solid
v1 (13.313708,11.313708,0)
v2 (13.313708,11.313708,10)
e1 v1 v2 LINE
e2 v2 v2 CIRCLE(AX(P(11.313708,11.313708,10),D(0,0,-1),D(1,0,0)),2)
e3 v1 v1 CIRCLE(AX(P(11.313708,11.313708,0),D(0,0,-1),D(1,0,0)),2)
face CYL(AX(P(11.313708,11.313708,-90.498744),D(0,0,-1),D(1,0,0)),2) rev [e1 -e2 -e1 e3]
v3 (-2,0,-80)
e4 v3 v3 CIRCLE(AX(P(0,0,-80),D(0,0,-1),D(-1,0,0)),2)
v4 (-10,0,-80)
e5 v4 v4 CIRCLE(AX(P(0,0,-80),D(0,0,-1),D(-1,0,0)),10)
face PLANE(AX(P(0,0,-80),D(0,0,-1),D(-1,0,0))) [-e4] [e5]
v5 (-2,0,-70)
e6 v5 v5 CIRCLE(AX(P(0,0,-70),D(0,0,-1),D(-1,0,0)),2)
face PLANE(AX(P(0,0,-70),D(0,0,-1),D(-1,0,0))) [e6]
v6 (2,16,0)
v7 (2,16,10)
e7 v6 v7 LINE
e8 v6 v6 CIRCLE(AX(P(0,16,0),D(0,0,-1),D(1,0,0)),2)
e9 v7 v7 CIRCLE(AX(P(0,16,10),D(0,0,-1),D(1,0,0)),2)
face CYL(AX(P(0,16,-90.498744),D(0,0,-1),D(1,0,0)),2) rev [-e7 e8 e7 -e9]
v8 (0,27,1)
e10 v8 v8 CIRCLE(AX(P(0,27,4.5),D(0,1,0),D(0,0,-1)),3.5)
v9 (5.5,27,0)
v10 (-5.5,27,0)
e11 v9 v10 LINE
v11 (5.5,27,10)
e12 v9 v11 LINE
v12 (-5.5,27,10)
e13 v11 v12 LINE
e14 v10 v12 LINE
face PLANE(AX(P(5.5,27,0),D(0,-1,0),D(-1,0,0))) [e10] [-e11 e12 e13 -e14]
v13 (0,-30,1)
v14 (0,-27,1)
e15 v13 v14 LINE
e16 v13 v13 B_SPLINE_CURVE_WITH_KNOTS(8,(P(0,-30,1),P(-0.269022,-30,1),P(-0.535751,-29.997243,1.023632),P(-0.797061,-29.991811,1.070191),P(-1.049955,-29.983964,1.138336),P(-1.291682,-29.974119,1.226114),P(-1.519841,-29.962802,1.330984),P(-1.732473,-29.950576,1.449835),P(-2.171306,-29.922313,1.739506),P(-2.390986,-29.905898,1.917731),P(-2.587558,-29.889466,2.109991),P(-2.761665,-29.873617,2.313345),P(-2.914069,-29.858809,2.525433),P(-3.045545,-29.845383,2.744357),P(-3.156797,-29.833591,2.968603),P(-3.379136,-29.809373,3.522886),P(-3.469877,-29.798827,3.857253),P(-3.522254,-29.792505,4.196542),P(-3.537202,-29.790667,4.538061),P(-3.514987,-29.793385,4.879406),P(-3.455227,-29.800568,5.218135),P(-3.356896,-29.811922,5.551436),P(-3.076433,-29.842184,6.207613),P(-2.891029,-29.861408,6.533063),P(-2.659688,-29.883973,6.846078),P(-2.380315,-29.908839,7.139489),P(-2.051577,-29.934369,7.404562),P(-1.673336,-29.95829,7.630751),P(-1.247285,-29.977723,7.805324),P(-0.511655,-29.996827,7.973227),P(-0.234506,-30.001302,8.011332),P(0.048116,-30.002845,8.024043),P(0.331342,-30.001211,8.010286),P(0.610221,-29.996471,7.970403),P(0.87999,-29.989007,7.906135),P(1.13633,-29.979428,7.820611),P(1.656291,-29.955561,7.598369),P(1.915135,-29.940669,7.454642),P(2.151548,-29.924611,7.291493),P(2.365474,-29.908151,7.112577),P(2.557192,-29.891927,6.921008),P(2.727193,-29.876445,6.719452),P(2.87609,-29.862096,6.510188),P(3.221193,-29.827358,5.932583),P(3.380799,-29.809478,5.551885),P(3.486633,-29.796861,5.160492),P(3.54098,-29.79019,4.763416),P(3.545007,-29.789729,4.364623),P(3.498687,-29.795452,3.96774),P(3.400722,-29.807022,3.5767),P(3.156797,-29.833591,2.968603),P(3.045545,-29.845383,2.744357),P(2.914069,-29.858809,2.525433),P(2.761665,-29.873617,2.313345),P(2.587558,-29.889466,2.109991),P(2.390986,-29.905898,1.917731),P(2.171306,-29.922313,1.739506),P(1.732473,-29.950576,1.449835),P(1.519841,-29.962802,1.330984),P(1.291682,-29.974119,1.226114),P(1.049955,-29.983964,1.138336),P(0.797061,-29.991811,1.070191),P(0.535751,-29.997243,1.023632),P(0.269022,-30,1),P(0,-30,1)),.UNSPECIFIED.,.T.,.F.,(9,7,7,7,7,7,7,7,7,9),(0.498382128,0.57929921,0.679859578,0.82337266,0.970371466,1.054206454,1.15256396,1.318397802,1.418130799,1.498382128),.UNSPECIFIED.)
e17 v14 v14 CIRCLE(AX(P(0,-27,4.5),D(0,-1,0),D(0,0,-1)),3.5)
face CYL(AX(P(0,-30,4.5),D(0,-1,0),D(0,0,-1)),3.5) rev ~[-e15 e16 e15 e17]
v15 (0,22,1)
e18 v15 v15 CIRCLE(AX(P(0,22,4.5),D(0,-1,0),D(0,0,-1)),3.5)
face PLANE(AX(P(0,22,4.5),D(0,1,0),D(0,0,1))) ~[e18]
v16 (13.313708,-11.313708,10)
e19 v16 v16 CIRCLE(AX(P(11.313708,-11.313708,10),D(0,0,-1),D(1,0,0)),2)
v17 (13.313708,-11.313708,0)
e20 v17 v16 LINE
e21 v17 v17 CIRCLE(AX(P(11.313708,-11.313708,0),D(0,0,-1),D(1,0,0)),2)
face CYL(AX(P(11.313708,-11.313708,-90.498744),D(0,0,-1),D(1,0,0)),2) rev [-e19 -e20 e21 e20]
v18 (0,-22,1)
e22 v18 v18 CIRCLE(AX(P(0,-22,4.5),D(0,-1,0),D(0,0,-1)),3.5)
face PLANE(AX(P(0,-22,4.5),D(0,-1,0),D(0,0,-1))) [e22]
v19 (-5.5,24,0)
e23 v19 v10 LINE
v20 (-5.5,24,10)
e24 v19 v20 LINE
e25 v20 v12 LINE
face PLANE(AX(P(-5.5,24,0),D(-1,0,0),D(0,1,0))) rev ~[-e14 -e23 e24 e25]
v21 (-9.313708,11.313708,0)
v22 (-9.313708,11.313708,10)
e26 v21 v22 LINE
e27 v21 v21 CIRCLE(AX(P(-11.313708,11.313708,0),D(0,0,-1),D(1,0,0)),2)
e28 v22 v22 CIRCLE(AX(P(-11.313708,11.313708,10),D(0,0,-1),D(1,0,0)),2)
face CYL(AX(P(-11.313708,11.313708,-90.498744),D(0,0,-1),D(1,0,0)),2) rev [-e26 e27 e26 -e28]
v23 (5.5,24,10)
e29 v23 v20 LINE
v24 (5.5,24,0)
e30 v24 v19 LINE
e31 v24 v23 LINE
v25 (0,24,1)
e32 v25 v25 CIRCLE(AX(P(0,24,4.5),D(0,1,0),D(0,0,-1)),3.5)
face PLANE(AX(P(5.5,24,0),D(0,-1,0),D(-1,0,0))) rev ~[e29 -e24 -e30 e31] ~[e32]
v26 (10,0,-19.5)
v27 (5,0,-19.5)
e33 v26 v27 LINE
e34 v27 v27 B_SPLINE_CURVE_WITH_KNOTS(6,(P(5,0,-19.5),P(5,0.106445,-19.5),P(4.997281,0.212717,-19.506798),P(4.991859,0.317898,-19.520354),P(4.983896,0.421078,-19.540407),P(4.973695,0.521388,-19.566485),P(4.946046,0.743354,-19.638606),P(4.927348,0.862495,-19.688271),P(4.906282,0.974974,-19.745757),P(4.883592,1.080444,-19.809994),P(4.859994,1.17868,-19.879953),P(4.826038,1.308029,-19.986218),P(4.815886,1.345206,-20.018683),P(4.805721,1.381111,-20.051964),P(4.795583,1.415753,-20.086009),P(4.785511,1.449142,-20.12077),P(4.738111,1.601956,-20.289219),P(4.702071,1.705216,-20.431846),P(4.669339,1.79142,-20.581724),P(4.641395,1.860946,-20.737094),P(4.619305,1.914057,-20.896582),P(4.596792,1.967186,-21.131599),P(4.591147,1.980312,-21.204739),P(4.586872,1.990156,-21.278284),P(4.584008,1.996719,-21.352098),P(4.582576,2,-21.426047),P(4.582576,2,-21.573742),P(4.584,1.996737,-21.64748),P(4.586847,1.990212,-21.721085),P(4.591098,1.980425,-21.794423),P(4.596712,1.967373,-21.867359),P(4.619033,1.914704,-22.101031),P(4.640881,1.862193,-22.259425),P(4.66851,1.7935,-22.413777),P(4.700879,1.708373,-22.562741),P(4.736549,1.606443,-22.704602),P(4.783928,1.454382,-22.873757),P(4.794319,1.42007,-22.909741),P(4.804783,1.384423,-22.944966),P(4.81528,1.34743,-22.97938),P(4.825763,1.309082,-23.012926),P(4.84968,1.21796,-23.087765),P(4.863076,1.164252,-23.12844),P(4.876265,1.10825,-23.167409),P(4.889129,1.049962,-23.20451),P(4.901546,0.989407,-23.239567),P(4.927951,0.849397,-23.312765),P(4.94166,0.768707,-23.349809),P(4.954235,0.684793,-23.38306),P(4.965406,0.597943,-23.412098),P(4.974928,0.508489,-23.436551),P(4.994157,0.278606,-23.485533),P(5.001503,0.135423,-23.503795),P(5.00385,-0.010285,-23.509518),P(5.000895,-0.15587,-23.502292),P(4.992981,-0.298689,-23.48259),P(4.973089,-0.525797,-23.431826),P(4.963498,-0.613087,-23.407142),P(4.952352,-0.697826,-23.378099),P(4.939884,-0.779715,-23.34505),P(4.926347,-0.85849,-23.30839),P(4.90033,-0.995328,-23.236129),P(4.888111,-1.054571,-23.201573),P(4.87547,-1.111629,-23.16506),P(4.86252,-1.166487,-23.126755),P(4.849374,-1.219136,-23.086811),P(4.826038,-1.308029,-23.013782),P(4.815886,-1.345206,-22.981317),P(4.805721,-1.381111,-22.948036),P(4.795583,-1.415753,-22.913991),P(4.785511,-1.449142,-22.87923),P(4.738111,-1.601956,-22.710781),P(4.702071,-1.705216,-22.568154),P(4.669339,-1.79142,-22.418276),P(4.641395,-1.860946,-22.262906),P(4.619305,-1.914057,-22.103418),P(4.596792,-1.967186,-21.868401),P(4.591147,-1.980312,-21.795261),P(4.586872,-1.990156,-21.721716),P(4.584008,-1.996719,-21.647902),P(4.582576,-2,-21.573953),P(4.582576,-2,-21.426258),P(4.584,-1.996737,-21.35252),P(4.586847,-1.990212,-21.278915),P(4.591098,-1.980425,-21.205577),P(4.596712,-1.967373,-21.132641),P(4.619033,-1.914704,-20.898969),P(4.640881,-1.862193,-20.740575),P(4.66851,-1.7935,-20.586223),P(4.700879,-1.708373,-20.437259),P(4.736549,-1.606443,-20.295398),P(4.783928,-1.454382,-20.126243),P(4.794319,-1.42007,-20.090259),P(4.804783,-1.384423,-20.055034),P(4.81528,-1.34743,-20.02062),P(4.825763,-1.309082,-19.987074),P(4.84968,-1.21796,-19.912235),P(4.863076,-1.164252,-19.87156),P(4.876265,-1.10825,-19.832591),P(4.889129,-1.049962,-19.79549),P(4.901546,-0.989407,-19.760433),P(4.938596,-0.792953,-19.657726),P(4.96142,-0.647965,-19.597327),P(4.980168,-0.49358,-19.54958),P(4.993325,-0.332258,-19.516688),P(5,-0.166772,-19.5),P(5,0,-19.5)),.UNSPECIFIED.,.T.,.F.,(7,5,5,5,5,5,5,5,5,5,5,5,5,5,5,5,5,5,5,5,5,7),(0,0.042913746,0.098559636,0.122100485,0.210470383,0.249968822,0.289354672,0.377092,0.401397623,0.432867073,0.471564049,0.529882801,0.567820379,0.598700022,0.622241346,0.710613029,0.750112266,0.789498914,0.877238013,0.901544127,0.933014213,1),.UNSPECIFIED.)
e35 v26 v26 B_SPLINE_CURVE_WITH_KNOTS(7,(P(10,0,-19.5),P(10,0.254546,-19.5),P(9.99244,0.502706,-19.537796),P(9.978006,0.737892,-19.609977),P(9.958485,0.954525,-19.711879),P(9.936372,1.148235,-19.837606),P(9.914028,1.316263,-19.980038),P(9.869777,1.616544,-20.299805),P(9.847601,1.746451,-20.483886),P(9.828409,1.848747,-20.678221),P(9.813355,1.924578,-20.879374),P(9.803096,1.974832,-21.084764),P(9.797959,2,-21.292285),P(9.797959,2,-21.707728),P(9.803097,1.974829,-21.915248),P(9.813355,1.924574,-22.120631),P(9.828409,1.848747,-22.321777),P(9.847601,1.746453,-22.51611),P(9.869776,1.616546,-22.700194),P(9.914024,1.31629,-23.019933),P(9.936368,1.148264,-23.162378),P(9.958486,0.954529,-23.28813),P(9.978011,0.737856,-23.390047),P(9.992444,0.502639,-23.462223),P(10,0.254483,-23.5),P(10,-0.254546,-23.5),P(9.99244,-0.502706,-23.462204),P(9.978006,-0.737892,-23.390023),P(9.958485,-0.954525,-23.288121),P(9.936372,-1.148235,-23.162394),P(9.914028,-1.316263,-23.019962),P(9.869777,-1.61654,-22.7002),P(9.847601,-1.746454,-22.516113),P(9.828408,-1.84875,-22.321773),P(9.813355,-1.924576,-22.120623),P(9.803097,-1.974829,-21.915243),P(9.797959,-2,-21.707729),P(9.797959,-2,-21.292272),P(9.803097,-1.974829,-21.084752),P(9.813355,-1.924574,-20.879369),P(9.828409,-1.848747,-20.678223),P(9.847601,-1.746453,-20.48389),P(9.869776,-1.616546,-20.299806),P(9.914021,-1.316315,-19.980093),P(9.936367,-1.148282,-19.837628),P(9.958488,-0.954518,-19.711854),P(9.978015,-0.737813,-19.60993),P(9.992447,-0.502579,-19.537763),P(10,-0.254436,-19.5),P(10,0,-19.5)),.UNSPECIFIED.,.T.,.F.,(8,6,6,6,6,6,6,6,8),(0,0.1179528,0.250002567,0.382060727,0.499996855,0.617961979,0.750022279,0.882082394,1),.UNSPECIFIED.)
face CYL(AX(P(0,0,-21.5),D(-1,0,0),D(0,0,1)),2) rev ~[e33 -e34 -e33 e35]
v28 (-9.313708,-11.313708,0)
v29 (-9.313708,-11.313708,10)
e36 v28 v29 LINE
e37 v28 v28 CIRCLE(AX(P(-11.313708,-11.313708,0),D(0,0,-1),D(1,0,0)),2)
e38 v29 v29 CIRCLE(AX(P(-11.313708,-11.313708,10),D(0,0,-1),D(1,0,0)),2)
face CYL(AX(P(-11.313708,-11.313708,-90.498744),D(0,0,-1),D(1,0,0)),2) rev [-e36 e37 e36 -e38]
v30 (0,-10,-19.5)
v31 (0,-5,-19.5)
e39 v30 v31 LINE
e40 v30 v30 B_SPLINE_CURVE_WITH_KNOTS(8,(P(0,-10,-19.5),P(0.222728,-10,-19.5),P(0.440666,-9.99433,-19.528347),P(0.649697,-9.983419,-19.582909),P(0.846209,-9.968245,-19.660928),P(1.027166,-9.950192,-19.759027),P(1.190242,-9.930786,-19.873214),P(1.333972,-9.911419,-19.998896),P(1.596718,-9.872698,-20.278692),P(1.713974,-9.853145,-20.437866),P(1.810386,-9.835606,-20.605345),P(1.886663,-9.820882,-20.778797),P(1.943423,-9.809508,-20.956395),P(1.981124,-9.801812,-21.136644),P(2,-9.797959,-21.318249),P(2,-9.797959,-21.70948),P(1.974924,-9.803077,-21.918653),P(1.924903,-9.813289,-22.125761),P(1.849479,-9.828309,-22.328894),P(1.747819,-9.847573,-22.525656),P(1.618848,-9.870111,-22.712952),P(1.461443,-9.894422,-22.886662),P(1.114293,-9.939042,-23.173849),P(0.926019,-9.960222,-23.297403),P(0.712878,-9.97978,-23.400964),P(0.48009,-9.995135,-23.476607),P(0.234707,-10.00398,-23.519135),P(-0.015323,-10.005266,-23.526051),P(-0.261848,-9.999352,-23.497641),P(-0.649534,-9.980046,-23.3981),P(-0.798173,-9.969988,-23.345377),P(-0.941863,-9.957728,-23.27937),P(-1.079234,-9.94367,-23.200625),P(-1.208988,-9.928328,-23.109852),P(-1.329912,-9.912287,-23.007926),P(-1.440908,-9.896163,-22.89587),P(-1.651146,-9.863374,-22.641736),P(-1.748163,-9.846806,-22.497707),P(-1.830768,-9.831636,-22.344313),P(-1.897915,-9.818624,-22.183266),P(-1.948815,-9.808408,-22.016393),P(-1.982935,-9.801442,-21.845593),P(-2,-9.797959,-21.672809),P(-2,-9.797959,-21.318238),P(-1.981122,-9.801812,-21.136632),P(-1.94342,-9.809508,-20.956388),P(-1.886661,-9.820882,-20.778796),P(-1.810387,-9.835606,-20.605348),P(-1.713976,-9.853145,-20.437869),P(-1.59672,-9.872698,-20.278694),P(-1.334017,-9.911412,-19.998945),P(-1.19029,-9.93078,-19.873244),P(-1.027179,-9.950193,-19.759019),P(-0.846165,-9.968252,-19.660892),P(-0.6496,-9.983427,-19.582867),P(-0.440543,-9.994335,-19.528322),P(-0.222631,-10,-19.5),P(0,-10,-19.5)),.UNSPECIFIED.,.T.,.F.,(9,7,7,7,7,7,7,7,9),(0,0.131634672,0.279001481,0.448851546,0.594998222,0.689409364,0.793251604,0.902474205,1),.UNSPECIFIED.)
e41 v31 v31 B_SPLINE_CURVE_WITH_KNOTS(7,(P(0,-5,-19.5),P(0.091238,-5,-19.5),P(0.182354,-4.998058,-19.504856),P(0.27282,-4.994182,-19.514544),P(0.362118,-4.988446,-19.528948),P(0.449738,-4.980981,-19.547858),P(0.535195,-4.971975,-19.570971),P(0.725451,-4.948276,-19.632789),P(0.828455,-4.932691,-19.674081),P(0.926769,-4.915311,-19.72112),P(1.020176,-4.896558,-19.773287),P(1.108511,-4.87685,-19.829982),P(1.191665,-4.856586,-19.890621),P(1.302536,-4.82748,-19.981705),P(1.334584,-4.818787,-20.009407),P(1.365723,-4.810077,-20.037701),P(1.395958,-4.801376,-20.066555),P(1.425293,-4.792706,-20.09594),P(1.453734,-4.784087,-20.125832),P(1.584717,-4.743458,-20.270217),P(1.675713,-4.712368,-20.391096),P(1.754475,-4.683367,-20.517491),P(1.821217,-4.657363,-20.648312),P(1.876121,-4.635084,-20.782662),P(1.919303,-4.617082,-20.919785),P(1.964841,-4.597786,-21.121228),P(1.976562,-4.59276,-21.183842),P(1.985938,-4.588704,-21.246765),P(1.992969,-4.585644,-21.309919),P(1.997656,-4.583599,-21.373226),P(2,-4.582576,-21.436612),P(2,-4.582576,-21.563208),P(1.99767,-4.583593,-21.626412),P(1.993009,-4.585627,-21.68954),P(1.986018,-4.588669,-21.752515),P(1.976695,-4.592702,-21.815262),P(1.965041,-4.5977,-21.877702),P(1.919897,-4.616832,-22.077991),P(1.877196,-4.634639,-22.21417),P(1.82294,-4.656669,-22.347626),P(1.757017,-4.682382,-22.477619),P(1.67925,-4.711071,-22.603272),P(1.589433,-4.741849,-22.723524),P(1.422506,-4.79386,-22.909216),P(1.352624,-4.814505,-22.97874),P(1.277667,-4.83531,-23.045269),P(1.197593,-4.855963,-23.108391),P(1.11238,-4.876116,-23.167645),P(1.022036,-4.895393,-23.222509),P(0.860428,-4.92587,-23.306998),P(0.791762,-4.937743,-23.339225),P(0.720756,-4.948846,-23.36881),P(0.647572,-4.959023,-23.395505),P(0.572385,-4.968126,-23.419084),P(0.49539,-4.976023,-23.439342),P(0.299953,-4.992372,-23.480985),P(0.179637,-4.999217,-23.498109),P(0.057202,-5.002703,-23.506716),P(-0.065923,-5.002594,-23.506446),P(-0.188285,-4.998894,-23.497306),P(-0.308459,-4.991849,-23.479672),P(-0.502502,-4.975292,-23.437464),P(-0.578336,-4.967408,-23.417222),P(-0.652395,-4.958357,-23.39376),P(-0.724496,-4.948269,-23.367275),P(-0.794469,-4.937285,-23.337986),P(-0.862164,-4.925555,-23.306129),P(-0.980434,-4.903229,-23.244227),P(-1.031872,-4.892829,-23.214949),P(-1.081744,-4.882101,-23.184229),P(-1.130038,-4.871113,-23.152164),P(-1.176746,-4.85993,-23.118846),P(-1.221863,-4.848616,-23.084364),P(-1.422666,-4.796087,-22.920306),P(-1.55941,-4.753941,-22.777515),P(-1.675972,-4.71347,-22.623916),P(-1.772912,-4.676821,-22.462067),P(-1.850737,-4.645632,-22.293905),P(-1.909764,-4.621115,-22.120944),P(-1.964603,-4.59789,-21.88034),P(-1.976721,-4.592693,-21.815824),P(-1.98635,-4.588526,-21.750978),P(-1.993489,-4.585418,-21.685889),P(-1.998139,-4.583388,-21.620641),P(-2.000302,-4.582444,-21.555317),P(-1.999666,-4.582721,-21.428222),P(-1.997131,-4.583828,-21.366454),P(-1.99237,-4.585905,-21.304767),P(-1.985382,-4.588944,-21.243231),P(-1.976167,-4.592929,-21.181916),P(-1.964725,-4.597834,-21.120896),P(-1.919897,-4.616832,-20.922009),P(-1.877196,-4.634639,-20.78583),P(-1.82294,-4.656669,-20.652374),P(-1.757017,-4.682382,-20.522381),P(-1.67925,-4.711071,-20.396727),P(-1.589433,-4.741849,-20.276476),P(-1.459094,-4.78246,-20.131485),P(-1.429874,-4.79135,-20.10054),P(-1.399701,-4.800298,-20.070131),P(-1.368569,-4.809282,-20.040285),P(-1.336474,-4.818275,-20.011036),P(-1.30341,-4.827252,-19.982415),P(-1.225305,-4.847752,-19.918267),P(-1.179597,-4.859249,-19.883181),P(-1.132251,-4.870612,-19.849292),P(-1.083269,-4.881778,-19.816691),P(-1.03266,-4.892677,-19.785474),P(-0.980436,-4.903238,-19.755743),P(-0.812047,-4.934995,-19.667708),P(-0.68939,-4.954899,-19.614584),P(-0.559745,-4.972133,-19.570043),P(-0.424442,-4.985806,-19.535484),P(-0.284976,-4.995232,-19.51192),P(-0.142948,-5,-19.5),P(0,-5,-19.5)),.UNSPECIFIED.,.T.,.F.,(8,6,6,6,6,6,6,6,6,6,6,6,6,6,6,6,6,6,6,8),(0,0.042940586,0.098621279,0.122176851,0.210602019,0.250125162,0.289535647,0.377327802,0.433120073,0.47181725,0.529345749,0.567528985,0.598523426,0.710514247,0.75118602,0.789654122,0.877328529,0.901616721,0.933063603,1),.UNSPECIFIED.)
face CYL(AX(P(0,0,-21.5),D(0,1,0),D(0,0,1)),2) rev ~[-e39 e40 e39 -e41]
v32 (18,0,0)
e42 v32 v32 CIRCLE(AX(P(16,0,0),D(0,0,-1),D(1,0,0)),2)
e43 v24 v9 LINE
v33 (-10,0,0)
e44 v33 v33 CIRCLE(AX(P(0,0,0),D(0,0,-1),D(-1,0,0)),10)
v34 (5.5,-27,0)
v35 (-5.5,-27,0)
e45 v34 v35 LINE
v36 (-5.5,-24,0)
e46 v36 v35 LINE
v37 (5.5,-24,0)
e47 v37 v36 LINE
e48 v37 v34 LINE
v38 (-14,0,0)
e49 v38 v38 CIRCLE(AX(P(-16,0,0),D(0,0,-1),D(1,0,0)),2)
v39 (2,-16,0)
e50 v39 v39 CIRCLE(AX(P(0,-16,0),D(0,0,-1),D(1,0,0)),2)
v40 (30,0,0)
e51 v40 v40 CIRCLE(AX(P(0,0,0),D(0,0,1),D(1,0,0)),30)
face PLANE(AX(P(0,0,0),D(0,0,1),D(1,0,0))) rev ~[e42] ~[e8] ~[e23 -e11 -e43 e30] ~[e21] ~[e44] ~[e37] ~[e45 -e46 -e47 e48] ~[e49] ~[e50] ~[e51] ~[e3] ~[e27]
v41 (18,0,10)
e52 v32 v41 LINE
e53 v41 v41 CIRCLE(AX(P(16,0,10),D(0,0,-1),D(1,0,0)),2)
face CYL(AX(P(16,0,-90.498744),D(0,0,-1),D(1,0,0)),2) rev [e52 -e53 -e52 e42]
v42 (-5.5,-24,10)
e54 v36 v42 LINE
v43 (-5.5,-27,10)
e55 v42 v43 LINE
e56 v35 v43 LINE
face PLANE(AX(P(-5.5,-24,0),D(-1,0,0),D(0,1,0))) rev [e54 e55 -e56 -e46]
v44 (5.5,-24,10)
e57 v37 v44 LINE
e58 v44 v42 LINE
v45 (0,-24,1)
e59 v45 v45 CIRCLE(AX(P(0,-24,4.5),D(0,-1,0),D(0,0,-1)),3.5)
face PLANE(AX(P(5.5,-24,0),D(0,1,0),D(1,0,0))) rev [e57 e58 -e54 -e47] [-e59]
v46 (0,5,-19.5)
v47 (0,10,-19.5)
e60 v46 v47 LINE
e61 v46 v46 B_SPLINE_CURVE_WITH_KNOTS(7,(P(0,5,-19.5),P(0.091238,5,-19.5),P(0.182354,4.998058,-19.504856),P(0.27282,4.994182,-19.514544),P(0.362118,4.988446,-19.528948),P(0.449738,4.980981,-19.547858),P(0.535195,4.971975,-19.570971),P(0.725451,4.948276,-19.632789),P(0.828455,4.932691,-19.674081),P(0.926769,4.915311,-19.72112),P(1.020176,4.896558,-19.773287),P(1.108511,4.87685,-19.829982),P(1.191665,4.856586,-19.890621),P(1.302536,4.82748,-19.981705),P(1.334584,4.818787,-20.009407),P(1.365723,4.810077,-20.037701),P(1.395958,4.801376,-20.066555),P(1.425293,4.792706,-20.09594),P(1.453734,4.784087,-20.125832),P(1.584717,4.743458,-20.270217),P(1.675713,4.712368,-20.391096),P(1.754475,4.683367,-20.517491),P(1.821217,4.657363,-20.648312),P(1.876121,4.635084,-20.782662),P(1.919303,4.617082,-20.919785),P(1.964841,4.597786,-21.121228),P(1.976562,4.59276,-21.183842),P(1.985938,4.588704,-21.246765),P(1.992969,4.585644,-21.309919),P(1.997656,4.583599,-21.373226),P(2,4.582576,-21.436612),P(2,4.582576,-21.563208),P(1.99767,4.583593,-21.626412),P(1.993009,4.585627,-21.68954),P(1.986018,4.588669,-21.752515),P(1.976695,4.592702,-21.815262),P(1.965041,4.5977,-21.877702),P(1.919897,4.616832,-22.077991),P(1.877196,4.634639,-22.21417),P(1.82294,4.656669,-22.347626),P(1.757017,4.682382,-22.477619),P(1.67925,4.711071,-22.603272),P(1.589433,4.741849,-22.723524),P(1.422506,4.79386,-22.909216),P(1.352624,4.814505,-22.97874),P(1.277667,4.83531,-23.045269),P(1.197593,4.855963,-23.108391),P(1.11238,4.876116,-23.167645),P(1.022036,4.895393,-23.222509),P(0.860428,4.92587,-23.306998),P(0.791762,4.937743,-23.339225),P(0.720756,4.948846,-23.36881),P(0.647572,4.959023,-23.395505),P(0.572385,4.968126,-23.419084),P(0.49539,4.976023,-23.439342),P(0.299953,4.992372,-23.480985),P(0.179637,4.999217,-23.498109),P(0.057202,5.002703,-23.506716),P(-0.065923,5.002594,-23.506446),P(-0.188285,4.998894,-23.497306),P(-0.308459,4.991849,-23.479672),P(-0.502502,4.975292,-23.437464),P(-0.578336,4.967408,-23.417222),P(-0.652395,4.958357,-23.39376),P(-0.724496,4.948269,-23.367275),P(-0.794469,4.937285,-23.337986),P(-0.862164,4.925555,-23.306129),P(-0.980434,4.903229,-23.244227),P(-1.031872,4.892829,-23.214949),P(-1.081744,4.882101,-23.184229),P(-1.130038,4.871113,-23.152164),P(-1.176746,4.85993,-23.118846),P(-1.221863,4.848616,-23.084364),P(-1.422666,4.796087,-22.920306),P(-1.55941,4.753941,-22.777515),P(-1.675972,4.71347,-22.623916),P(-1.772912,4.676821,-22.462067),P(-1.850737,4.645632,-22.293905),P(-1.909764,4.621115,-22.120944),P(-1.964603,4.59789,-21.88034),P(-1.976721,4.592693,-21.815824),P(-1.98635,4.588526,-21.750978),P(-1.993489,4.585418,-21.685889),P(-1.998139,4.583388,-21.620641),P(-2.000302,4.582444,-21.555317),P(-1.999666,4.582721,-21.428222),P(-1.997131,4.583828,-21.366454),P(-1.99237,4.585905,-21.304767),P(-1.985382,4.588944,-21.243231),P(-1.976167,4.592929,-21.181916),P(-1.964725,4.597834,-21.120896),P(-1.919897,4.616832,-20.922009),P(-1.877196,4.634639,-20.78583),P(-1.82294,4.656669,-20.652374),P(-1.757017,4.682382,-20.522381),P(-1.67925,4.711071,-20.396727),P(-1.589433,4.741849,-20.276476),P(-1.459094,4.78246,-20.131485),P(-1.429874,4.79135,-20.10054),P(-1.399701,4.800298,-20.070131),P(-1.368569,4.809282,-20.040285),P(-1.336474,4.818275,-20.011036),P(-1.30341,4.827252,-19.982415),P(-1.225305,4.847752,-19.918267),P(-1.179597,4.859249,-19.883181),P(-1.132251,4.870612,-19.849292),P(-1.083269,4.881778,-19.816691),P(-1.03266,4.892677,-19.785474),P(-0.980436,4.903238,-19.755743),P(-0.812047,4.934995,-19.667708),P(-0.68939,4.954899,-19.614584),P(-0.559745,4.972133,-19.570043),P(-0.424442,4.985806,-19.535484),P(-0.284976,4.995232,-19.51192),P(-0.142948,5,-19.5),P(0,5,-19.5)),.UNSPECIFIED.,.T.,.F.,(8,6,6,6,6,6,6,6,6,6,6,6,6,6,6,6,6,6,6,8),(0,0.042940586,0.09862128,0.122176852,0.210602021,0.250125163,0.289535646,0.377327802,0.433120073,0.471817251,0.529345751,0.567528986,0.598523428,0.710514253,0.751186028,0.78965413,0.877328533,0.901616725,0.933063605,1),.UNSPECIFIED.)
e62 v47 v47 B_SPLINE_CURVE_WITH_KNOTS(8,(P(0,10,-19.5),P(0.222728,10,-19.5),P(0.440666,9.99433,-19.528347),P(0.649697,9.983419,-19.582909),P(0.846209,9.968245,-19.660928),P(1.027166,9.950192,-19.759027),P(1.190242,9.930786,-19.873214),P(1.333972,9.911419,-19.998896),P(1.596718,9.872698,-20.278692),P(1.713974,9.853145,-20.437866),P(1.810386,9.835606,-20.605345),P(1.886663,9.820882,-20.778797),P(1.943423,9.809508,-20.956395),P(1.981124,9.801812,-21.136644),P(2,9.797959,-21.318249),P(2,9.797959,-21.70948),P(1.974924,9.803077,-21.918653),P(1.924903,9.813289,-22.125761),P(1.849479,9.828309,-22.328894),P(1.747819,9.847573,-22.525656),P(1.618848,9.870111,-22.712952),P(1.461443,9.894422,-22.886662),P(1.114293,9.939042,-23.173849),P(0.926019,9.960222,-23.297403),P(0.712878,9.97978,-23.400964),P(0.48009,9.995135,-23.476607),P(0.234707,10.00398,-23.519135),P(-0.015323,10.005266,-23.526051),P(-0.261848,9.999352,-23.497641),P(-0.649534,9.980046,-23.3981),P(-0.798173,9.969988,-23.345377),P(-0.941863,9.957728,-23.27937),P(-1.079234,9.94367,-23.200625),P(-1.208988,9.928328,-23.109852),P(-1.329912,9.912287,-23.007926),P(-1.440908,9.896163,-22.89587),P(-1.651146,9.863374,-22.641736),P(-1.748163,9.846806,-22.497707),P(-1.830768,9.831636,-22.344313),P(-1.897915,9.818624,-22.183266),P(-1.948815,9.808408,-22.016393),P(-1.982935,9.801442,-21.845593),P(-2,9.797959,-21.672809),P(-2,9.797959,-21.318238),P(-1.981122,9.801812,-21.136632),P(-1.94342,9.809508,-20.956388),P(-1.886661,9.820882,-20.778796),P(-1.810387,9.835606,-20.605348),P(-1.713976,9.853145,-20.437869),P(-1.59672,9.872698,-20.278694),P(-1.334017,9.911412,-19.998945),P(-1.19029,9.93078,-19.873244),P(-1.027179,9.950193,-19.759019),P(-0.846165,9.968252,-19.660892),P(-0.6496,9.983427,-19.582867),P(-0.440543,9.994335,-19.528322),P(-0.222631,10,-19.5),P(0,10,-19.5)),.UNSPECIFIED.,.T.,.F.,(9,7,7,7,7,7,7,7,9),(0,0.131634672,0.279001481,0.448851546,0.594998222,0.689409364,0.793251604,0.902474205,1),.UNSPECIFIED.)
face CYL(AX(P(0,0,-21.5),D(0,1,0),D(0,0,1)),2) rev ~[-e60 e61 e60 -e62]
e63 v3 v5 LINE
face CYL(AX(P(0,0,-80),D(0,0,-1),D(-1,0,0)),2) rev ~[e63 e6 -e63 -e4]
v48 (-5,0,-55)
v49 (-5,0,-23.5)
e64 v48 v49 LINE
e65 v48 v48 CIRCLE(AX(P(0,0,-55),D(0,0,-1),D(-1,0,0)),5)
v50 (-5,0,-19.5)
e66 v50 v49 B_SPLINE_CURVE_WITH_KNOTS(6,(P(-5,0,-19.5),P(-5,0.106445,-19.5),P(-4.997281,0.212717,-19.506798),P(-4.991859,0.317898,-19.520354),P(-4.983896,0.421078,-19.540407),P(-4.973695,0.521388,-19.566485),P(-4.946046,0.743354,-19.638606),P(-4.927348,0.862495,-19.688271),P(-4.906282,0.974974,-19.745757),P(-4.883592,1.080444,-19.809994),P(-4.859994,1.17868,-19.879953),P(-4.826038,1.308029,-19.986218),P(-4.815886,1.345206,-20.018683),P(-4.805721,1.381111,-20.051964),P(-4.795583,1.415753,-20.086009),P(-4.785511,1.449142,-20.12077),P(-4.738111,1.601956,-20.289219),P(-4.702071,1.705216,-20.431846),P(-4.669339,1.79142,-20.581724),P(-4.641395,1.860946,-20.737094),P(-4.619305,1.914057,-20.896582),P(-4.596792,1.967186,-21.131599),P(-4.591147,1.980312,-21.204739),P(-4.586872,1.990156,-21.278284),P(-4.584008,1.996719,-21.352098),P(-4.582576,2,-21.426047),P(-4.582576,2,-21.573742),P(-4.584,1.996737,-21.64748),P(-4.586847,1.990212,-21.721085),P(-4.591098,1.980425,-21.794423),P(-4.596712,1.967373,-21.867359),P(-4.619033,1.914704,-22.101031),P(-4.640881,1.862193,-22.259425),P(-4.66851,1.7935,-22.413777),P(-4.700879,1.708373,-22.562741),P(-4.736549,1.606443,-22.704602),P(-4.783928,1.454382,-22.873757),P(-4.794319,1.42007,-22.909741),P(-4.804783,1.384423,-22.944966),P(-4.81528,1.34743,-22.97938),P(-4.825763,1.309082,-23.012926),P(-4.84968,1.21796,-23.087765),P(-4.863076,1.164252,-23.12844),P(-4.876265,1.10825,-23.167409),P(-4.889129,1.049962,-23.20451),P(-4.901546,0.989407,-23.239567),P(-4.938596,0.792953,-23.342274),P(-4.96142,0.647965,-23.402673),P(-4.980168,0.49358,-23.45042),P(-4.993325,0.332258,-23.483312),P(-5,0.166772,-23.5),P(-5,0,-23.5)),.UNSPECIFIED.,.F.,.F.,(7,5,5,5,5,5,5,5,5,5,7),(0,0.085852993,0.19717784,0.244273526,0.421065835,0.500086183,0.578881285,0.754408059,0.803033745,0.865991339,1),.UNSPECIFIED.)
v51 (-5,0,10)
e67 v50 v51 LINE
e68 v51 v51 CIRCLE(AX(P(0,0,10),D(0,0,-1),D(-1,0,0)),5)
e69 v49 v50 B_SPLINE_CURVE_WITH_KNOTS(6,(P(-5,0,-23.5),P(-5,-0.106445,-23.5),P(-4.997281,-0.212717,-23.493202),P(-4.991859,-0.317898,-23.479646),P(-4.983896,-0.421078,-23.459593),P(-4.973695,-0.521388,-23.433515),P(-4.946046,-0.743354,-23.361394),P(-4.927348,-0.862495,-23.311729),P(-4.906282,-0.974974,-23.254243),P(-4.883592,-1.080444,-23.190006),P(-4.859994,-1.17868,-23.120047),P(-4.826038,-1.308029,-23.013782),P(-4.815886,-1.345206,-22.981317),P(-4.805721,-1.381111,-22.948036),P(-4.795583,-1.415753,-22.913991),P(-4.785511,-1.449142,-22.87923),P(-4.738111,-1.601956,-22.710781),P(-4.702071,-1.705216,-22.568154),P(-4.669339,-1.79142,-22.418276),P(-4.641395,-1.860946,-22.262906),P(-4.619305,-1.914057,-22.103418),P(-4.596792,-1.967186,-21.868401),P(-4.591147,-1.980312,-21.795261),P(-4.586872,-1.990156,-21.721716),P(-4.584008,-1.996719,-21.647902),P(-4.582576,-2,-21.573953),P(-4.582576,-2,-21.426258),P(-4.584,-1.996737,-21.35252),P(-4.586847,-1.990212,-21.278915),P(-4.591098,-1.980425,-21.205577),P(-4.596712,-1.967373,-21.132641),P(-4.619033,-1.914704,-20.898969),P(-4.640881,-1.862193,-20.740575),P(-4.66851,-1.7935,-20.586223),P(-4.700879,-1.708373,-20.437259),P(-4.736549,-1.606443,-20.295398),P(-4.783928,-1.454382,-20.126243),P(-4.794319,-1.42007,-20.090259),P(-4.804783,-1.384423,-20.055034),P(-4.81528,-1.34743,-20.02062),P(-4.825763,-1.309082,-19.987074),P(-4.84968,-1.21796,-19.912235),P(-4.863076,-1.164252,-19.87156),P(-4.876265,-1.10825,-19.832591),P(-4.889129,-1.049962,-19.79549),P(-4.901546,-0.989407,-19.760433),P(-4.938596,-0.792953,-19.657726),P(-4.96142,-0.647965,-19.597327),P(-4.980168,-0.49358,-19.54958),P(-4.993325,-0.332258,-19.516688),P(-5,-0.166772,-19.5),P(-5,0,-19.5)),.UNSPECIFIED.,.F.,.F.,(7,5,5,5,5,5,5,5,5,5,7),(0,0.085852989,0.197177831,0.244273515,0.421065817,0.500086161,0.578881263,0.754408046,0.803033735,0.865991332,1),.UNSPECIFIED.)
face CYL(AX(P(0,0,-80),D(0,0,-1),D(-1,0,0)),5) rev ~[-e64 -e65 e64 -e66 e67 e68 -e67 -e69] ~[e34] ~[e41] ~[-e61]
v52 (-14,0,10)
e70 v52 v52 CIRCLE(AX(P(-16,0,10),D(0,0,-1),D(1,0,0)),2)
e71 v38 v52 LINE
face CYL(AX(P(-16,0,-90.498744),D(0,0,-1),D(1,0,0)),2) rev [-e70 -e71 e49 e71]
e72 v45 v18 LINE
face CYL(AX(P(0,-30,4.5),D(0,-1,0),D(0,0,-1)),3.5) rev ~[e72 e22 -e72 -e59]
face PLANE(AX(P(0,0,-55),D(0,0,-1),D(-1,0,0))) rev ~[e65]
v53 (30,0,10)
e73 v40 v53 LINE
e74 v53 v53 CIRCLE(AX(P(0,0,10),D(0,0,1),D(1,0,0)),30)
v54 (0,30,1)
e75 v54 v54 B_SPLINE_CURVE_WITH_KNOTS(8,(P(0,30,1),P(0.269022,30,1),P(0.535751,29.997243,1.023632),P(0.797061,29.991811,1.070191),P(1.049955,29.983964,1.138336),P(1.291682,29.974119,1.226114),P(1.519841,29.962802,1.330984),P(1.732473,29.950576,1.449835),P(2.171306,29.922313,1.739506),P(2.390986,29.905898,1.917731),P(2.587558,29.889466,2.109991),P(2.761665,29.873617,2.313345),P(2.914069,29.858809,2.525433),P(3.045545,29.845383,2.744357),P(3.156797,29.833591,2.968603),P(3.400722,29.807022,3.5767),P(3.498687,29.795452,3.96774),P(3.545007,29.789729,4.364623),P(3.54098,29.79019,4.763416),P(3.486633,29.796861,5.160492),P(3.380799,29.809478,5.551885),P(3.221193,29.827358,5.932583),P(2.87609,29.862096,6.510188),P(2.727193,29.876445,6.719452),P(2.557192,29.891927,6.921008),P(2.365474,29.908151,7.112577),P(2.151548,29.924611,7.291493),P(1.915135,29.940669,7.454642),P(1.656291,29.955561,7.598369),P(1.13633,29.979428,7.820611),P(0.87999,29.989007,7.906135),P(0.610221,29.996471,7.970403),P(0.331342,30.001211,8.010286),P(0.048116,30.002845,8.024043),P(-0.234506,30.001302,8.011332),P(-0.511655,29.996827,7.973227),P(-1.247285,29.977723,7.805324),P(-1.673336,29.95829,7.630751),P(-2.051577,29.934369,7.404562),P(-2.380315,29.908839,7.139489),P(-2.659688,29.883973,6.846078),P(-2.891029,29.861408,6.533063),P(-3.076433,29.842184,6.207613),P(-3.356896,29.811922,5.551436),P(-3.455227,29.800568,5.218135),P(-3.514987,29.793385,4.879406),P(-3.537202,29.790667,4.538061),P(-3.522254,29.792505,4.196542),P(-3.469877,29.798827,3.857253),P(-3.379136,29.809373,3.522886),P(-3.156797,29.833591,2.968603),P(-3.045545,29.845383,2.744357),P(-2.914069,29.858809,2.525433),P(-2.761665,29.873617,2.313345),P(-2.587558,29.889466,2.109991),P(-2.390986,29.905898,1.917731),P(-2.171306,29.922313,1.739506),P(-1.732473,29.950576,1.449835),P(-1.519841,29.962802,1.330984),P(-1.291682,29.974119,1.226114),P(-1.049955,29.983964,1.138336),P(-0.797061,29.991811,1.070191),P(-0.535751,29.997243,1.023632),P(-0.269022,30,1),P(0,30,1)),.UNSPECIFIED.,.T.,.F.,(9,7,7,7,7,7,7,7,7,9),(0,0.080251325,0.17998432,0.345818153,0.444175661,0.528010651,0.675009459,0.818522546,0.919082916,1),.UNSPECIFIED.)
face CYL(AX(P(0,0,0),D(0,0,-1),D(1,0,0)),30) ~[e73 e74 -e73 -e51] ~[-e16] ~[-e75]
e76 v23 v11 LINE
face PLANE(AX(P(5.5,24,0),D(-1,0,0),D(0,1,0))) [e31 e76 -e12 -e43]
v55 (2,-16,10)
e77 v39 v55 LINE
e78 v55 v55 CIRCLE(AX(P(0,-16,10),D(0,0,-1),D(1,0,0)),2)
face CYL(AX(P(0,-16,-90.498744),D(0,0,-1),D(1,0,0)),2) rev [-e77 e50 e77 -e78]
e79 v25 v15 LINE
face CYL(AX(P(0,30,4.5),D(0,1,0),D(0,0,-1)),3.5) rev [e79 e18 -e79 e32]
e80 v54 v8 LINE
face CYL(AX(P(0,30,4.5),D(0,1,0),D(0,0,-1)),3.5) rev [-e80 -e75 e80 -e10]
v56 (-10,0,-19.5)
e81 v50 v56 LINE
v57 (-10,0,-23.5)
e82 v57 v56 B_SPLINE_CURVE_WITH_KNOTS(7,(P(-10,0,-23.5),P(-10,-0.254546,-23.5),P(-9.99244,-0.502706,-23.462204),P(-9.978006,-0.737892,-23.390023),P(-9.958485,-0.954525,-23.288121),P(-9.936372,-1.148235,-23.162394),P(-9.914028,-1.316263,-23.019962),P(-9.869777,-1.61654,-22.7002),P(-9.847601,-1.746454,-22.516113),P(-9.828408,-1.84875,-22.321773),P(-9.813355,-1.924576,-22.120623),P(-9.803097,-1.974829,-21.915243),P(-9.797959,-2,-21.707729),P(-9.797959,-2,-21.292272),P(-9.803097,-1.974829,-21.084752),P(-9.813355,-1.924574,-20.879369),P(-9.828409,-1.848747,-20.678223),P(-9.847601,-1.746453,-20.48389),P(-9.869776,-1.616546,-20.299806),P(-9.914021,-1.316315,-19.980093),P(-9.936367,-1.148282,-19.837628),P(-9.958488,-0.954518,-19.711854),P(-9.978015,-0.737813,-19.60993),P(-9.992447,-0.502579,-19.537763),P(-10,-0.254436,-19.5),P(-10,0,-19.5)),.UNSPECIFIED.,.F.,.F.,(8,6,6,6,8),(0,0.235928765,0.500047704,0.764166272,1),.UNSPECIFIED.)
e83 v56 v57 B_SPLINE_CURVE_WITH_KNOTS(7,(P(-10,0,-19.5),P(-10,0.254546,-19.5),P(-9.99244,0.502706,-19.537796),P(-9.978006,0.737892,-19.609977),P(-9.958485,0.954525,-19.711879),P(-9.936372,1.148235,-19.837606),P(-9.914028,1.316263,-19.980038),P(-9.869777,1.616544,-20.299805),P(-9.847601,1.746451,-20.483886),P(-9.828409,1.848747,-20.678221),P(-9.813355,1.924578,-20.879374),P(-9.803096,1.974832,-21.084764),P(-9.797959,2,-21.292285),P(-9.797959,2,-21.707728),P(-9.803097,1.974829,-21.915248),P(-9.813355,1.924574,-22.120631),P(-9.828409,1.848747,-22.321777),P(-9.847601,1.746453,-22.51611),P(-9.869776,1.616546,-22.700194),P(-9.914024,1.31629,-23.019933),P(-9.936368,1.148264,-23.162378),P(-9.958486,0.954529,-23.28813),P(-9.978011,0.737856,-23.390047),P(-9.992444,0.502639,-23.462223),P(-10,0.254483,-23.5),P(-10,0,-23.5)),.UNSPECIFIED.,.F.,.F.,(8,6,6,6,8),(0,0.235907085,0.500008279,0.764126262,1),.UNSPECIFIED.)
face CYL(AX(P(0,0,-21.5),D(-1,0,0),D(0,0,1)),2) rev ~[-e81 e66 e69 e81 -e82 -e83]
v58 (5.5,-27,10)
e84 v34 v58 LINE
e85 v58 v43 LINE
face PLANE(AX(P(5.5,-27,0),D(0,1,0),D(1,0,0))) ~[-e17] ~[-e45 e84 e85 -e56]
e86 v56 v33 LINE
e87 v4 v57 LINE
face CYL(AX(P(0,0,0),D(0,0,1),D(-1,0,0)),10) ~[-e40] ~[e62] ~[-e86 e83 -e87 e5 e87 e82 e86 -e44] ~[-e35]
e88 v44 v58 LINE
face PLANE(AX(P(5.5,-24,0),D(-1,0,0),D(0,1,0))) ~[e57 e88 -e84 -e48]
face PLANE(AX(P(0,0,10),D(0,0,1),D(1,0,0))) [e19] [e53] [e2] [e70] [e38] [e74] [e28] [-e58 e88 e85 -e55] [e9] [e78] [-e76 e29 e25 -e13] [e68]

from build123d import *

# Parameters (mm, degrees)
SKETCH1_R               = 30
BOSS_EXTRUDE1_DEPTH     = 10
SKETCH2_R               = 10
BOSS_EXTRUDE2_DEPTH     = 80
SKETCH2_2_R             = 10
BOSS_EXTRUDE3_DEPTH     = 20
SKETCH5_R               = 5
CUT_EXTRUDE1_DEPTH      = 100.498743711
SKETCH6_R               = 2
CUT_EXTRUDE2_DEPTH      = 91.553851381
CIRPATTERN1_COUNT       = 2
CIRPATTERN1_ANGLE       = 90
CUT_EXTRUDE3_DEPTH      = 100.498743801
CUT_EXTRUDE3_DEPTH_BACK = 100.498743801
SKETCH7_R               = 2
SKETCH9_W               = 11
SKETCH9_H               = 3
CUT_EXTRUDE5_DEPTH      = 10
SKETCH10_R              = 3.5
CUT_EXTRUDE6_DEPTH      = 8
SKETCH17_R              = 7.355644599
BOSS_EXTRUDE4_DEPTH     = 25
SKETCH18_R              = 2
CUT_EXTRUDE7_DEPTH      = 10


with BuildPart() as part:
    # Sketch1 → Boss-Extrude1 (new body)
    with BuildSketch(Plane.XY):
        Circle(SKETCH1_R)
    extrude(amount=BOSS_EXTRUDE1_DEPTH)

    # Sketch2 → Boss-Extrude2 (add)
    with BuildSketch(Plane(origin=(0, 0, 0), x_dir=(-1, 0, 0), z_dir=(0, 0, -1))):
        Circle(SKETCH2_R)
    extrude(amount=BOSS_EXTRUDE2_DEPTH)

    # Sketch2<2> → Boss-Extrude3 (add)
    with BuildSketch(Plane(origin=(0, 0, 0), x_dir=(-1, 0, 0), z_dir=(0, 0, -1))):
        Circle(SKETCH2_2_R)
    extrude(amount=BOSS_EXTRUDE3_DEPTH)

    # Sketch5 → Cut-Extrude1 (cut, through all)
    with BuildSketch(Plane(origin=(0, 0, -80), x_dir=(-1, 0, 0), z_dir=(0, 0, -1))):
        Circle(SKETCH5_R)
    extrude(amount=-CUT_EXTRUDE1_DEPTH, mode=Mode.SUBTRACT)

    # Sketch6 → Cut-Extrude2 (cut, symmetric)
    with BuildSketch(Plane(origin=(0, 0, 0), x_dir=(1, 0, 0), z_dir=(0, 1, 0))):
        with Locations((0, 21.5)):
            Circle(SKETCH6_R)
    cut_extrude2 = extrude(amount=CUT_EXTRUDE2_DEPTH, both=True, mode=Mode.SUBTRACT)

    # CirPattern1: Cut-Extrude2 ×2 about axis
    cirpattern1_axis = Axis((0, 0, -80), (0, 0, 1))
    for i in range(1, CIRPATTERN1_COUNT):
        add(cut_extrude2.rotate(cirpattern1_axis, i * CIRPATTERN1_ANGLE / (CIRPATTERN1_COUNT - 1)), mode=Mode.SUBTRACT)

    # Sketch7 → Cut-Extrude3 (cut, two sides: drawn at the far end of the back side and taken through both)
    with BuildSketch(Plane.XY.offset(10).offset(-CUT_EXTRUDE3_DEPTH_BACK)):
        with Locations((0, 16)):
            Circle(SKETCH7_R)
        with Locations((11.313708499, 11.313708499)):
            Circle(SKETCH7_R)
        with Locations((16, 0)):
            Circle(SKETCH7_R)
        with Locations((11.313708499, -11.313708499)):
            Circle(SKETCH7_R)
        with Locations((0, -16)):
            Circle(SKETCH7_R)
        with Locations((-11.313708499, -11.313708499)):
            Circle(SKETCH7_R)
        with Locations((-16, 0)):
            Circle(SKETCH7_R)
        with Locations((-11.313708499, 11.313708499)):
            Circle(SKETCH7_R)
    extrude(amount=CUT_EXTRUDE3_DEPTH + CUT_EXTRUDE3_DEPTH_BACK, mode=Mode.SUBTRACT)

    # Sketch9 → Cut-Extrude5 (cut)
    with BuildSketch(Plane(origin=(0, 0, 0), x_dir=(-1, 0, 0), z_dir=(0, 0, -1))):
        with Locations((0, 25.5)):
            Rectangle(SKETCH9_W, SKETCH9_H)
    cut_extrude5 = extrude(amount=-CUT_EXTRUDE5_DEPTH, mode=Mode.SUBTRACT)

    # Mirror1: Cut-Extrude5 across plane
    add(cut_extrude5.mirror(Plane.ZX), mode=Mode.SUBTRACT)

    # Sketch10 → Cut-Extrude6 (cut)
    with BuildSketch(Plane(origin=(0, -30, 0), x_dir=(-1, 0, 0), z_dir=(0, -1, 0))):
        with Locations((0, -4.5)):
            Circle(SKETCH10_R)
    cut_extrude6 = extrude(amount=-CUT_EXTRUDE6_DEPTH, mode=Mode.SUBTRACT)

    # Mirror2: Cut-Extrude6 across plane
    add(cut_extrude6.mirror(Plane.ZX), mode=Mode.SUBTRACT)

    # Sketch17 → Boss-Extrude4 (add)
    with BuildSketch(Plane(origin=(0, 0, -55), x_dir=(-1, 0, 0), z_dir=(0, 0, -1))):
        Circle(SKETCH17_R)
    extrude(amount=BOSS_EXTRUDE4_DEPTH)

    # Sketch18 → Cut-Extrude7 (cut)
    with BuildSketch(Plane(origin=(0, 0, -80), x_dir=(-1, 0, 0), z_dir=(0, 0, -1))):
        Circle(SKETCH18_R)
    extrude(amount=-CUT_EXTRUDE7_DEPTH, mode=Mode.SUBTRACT)


solid = part.part
